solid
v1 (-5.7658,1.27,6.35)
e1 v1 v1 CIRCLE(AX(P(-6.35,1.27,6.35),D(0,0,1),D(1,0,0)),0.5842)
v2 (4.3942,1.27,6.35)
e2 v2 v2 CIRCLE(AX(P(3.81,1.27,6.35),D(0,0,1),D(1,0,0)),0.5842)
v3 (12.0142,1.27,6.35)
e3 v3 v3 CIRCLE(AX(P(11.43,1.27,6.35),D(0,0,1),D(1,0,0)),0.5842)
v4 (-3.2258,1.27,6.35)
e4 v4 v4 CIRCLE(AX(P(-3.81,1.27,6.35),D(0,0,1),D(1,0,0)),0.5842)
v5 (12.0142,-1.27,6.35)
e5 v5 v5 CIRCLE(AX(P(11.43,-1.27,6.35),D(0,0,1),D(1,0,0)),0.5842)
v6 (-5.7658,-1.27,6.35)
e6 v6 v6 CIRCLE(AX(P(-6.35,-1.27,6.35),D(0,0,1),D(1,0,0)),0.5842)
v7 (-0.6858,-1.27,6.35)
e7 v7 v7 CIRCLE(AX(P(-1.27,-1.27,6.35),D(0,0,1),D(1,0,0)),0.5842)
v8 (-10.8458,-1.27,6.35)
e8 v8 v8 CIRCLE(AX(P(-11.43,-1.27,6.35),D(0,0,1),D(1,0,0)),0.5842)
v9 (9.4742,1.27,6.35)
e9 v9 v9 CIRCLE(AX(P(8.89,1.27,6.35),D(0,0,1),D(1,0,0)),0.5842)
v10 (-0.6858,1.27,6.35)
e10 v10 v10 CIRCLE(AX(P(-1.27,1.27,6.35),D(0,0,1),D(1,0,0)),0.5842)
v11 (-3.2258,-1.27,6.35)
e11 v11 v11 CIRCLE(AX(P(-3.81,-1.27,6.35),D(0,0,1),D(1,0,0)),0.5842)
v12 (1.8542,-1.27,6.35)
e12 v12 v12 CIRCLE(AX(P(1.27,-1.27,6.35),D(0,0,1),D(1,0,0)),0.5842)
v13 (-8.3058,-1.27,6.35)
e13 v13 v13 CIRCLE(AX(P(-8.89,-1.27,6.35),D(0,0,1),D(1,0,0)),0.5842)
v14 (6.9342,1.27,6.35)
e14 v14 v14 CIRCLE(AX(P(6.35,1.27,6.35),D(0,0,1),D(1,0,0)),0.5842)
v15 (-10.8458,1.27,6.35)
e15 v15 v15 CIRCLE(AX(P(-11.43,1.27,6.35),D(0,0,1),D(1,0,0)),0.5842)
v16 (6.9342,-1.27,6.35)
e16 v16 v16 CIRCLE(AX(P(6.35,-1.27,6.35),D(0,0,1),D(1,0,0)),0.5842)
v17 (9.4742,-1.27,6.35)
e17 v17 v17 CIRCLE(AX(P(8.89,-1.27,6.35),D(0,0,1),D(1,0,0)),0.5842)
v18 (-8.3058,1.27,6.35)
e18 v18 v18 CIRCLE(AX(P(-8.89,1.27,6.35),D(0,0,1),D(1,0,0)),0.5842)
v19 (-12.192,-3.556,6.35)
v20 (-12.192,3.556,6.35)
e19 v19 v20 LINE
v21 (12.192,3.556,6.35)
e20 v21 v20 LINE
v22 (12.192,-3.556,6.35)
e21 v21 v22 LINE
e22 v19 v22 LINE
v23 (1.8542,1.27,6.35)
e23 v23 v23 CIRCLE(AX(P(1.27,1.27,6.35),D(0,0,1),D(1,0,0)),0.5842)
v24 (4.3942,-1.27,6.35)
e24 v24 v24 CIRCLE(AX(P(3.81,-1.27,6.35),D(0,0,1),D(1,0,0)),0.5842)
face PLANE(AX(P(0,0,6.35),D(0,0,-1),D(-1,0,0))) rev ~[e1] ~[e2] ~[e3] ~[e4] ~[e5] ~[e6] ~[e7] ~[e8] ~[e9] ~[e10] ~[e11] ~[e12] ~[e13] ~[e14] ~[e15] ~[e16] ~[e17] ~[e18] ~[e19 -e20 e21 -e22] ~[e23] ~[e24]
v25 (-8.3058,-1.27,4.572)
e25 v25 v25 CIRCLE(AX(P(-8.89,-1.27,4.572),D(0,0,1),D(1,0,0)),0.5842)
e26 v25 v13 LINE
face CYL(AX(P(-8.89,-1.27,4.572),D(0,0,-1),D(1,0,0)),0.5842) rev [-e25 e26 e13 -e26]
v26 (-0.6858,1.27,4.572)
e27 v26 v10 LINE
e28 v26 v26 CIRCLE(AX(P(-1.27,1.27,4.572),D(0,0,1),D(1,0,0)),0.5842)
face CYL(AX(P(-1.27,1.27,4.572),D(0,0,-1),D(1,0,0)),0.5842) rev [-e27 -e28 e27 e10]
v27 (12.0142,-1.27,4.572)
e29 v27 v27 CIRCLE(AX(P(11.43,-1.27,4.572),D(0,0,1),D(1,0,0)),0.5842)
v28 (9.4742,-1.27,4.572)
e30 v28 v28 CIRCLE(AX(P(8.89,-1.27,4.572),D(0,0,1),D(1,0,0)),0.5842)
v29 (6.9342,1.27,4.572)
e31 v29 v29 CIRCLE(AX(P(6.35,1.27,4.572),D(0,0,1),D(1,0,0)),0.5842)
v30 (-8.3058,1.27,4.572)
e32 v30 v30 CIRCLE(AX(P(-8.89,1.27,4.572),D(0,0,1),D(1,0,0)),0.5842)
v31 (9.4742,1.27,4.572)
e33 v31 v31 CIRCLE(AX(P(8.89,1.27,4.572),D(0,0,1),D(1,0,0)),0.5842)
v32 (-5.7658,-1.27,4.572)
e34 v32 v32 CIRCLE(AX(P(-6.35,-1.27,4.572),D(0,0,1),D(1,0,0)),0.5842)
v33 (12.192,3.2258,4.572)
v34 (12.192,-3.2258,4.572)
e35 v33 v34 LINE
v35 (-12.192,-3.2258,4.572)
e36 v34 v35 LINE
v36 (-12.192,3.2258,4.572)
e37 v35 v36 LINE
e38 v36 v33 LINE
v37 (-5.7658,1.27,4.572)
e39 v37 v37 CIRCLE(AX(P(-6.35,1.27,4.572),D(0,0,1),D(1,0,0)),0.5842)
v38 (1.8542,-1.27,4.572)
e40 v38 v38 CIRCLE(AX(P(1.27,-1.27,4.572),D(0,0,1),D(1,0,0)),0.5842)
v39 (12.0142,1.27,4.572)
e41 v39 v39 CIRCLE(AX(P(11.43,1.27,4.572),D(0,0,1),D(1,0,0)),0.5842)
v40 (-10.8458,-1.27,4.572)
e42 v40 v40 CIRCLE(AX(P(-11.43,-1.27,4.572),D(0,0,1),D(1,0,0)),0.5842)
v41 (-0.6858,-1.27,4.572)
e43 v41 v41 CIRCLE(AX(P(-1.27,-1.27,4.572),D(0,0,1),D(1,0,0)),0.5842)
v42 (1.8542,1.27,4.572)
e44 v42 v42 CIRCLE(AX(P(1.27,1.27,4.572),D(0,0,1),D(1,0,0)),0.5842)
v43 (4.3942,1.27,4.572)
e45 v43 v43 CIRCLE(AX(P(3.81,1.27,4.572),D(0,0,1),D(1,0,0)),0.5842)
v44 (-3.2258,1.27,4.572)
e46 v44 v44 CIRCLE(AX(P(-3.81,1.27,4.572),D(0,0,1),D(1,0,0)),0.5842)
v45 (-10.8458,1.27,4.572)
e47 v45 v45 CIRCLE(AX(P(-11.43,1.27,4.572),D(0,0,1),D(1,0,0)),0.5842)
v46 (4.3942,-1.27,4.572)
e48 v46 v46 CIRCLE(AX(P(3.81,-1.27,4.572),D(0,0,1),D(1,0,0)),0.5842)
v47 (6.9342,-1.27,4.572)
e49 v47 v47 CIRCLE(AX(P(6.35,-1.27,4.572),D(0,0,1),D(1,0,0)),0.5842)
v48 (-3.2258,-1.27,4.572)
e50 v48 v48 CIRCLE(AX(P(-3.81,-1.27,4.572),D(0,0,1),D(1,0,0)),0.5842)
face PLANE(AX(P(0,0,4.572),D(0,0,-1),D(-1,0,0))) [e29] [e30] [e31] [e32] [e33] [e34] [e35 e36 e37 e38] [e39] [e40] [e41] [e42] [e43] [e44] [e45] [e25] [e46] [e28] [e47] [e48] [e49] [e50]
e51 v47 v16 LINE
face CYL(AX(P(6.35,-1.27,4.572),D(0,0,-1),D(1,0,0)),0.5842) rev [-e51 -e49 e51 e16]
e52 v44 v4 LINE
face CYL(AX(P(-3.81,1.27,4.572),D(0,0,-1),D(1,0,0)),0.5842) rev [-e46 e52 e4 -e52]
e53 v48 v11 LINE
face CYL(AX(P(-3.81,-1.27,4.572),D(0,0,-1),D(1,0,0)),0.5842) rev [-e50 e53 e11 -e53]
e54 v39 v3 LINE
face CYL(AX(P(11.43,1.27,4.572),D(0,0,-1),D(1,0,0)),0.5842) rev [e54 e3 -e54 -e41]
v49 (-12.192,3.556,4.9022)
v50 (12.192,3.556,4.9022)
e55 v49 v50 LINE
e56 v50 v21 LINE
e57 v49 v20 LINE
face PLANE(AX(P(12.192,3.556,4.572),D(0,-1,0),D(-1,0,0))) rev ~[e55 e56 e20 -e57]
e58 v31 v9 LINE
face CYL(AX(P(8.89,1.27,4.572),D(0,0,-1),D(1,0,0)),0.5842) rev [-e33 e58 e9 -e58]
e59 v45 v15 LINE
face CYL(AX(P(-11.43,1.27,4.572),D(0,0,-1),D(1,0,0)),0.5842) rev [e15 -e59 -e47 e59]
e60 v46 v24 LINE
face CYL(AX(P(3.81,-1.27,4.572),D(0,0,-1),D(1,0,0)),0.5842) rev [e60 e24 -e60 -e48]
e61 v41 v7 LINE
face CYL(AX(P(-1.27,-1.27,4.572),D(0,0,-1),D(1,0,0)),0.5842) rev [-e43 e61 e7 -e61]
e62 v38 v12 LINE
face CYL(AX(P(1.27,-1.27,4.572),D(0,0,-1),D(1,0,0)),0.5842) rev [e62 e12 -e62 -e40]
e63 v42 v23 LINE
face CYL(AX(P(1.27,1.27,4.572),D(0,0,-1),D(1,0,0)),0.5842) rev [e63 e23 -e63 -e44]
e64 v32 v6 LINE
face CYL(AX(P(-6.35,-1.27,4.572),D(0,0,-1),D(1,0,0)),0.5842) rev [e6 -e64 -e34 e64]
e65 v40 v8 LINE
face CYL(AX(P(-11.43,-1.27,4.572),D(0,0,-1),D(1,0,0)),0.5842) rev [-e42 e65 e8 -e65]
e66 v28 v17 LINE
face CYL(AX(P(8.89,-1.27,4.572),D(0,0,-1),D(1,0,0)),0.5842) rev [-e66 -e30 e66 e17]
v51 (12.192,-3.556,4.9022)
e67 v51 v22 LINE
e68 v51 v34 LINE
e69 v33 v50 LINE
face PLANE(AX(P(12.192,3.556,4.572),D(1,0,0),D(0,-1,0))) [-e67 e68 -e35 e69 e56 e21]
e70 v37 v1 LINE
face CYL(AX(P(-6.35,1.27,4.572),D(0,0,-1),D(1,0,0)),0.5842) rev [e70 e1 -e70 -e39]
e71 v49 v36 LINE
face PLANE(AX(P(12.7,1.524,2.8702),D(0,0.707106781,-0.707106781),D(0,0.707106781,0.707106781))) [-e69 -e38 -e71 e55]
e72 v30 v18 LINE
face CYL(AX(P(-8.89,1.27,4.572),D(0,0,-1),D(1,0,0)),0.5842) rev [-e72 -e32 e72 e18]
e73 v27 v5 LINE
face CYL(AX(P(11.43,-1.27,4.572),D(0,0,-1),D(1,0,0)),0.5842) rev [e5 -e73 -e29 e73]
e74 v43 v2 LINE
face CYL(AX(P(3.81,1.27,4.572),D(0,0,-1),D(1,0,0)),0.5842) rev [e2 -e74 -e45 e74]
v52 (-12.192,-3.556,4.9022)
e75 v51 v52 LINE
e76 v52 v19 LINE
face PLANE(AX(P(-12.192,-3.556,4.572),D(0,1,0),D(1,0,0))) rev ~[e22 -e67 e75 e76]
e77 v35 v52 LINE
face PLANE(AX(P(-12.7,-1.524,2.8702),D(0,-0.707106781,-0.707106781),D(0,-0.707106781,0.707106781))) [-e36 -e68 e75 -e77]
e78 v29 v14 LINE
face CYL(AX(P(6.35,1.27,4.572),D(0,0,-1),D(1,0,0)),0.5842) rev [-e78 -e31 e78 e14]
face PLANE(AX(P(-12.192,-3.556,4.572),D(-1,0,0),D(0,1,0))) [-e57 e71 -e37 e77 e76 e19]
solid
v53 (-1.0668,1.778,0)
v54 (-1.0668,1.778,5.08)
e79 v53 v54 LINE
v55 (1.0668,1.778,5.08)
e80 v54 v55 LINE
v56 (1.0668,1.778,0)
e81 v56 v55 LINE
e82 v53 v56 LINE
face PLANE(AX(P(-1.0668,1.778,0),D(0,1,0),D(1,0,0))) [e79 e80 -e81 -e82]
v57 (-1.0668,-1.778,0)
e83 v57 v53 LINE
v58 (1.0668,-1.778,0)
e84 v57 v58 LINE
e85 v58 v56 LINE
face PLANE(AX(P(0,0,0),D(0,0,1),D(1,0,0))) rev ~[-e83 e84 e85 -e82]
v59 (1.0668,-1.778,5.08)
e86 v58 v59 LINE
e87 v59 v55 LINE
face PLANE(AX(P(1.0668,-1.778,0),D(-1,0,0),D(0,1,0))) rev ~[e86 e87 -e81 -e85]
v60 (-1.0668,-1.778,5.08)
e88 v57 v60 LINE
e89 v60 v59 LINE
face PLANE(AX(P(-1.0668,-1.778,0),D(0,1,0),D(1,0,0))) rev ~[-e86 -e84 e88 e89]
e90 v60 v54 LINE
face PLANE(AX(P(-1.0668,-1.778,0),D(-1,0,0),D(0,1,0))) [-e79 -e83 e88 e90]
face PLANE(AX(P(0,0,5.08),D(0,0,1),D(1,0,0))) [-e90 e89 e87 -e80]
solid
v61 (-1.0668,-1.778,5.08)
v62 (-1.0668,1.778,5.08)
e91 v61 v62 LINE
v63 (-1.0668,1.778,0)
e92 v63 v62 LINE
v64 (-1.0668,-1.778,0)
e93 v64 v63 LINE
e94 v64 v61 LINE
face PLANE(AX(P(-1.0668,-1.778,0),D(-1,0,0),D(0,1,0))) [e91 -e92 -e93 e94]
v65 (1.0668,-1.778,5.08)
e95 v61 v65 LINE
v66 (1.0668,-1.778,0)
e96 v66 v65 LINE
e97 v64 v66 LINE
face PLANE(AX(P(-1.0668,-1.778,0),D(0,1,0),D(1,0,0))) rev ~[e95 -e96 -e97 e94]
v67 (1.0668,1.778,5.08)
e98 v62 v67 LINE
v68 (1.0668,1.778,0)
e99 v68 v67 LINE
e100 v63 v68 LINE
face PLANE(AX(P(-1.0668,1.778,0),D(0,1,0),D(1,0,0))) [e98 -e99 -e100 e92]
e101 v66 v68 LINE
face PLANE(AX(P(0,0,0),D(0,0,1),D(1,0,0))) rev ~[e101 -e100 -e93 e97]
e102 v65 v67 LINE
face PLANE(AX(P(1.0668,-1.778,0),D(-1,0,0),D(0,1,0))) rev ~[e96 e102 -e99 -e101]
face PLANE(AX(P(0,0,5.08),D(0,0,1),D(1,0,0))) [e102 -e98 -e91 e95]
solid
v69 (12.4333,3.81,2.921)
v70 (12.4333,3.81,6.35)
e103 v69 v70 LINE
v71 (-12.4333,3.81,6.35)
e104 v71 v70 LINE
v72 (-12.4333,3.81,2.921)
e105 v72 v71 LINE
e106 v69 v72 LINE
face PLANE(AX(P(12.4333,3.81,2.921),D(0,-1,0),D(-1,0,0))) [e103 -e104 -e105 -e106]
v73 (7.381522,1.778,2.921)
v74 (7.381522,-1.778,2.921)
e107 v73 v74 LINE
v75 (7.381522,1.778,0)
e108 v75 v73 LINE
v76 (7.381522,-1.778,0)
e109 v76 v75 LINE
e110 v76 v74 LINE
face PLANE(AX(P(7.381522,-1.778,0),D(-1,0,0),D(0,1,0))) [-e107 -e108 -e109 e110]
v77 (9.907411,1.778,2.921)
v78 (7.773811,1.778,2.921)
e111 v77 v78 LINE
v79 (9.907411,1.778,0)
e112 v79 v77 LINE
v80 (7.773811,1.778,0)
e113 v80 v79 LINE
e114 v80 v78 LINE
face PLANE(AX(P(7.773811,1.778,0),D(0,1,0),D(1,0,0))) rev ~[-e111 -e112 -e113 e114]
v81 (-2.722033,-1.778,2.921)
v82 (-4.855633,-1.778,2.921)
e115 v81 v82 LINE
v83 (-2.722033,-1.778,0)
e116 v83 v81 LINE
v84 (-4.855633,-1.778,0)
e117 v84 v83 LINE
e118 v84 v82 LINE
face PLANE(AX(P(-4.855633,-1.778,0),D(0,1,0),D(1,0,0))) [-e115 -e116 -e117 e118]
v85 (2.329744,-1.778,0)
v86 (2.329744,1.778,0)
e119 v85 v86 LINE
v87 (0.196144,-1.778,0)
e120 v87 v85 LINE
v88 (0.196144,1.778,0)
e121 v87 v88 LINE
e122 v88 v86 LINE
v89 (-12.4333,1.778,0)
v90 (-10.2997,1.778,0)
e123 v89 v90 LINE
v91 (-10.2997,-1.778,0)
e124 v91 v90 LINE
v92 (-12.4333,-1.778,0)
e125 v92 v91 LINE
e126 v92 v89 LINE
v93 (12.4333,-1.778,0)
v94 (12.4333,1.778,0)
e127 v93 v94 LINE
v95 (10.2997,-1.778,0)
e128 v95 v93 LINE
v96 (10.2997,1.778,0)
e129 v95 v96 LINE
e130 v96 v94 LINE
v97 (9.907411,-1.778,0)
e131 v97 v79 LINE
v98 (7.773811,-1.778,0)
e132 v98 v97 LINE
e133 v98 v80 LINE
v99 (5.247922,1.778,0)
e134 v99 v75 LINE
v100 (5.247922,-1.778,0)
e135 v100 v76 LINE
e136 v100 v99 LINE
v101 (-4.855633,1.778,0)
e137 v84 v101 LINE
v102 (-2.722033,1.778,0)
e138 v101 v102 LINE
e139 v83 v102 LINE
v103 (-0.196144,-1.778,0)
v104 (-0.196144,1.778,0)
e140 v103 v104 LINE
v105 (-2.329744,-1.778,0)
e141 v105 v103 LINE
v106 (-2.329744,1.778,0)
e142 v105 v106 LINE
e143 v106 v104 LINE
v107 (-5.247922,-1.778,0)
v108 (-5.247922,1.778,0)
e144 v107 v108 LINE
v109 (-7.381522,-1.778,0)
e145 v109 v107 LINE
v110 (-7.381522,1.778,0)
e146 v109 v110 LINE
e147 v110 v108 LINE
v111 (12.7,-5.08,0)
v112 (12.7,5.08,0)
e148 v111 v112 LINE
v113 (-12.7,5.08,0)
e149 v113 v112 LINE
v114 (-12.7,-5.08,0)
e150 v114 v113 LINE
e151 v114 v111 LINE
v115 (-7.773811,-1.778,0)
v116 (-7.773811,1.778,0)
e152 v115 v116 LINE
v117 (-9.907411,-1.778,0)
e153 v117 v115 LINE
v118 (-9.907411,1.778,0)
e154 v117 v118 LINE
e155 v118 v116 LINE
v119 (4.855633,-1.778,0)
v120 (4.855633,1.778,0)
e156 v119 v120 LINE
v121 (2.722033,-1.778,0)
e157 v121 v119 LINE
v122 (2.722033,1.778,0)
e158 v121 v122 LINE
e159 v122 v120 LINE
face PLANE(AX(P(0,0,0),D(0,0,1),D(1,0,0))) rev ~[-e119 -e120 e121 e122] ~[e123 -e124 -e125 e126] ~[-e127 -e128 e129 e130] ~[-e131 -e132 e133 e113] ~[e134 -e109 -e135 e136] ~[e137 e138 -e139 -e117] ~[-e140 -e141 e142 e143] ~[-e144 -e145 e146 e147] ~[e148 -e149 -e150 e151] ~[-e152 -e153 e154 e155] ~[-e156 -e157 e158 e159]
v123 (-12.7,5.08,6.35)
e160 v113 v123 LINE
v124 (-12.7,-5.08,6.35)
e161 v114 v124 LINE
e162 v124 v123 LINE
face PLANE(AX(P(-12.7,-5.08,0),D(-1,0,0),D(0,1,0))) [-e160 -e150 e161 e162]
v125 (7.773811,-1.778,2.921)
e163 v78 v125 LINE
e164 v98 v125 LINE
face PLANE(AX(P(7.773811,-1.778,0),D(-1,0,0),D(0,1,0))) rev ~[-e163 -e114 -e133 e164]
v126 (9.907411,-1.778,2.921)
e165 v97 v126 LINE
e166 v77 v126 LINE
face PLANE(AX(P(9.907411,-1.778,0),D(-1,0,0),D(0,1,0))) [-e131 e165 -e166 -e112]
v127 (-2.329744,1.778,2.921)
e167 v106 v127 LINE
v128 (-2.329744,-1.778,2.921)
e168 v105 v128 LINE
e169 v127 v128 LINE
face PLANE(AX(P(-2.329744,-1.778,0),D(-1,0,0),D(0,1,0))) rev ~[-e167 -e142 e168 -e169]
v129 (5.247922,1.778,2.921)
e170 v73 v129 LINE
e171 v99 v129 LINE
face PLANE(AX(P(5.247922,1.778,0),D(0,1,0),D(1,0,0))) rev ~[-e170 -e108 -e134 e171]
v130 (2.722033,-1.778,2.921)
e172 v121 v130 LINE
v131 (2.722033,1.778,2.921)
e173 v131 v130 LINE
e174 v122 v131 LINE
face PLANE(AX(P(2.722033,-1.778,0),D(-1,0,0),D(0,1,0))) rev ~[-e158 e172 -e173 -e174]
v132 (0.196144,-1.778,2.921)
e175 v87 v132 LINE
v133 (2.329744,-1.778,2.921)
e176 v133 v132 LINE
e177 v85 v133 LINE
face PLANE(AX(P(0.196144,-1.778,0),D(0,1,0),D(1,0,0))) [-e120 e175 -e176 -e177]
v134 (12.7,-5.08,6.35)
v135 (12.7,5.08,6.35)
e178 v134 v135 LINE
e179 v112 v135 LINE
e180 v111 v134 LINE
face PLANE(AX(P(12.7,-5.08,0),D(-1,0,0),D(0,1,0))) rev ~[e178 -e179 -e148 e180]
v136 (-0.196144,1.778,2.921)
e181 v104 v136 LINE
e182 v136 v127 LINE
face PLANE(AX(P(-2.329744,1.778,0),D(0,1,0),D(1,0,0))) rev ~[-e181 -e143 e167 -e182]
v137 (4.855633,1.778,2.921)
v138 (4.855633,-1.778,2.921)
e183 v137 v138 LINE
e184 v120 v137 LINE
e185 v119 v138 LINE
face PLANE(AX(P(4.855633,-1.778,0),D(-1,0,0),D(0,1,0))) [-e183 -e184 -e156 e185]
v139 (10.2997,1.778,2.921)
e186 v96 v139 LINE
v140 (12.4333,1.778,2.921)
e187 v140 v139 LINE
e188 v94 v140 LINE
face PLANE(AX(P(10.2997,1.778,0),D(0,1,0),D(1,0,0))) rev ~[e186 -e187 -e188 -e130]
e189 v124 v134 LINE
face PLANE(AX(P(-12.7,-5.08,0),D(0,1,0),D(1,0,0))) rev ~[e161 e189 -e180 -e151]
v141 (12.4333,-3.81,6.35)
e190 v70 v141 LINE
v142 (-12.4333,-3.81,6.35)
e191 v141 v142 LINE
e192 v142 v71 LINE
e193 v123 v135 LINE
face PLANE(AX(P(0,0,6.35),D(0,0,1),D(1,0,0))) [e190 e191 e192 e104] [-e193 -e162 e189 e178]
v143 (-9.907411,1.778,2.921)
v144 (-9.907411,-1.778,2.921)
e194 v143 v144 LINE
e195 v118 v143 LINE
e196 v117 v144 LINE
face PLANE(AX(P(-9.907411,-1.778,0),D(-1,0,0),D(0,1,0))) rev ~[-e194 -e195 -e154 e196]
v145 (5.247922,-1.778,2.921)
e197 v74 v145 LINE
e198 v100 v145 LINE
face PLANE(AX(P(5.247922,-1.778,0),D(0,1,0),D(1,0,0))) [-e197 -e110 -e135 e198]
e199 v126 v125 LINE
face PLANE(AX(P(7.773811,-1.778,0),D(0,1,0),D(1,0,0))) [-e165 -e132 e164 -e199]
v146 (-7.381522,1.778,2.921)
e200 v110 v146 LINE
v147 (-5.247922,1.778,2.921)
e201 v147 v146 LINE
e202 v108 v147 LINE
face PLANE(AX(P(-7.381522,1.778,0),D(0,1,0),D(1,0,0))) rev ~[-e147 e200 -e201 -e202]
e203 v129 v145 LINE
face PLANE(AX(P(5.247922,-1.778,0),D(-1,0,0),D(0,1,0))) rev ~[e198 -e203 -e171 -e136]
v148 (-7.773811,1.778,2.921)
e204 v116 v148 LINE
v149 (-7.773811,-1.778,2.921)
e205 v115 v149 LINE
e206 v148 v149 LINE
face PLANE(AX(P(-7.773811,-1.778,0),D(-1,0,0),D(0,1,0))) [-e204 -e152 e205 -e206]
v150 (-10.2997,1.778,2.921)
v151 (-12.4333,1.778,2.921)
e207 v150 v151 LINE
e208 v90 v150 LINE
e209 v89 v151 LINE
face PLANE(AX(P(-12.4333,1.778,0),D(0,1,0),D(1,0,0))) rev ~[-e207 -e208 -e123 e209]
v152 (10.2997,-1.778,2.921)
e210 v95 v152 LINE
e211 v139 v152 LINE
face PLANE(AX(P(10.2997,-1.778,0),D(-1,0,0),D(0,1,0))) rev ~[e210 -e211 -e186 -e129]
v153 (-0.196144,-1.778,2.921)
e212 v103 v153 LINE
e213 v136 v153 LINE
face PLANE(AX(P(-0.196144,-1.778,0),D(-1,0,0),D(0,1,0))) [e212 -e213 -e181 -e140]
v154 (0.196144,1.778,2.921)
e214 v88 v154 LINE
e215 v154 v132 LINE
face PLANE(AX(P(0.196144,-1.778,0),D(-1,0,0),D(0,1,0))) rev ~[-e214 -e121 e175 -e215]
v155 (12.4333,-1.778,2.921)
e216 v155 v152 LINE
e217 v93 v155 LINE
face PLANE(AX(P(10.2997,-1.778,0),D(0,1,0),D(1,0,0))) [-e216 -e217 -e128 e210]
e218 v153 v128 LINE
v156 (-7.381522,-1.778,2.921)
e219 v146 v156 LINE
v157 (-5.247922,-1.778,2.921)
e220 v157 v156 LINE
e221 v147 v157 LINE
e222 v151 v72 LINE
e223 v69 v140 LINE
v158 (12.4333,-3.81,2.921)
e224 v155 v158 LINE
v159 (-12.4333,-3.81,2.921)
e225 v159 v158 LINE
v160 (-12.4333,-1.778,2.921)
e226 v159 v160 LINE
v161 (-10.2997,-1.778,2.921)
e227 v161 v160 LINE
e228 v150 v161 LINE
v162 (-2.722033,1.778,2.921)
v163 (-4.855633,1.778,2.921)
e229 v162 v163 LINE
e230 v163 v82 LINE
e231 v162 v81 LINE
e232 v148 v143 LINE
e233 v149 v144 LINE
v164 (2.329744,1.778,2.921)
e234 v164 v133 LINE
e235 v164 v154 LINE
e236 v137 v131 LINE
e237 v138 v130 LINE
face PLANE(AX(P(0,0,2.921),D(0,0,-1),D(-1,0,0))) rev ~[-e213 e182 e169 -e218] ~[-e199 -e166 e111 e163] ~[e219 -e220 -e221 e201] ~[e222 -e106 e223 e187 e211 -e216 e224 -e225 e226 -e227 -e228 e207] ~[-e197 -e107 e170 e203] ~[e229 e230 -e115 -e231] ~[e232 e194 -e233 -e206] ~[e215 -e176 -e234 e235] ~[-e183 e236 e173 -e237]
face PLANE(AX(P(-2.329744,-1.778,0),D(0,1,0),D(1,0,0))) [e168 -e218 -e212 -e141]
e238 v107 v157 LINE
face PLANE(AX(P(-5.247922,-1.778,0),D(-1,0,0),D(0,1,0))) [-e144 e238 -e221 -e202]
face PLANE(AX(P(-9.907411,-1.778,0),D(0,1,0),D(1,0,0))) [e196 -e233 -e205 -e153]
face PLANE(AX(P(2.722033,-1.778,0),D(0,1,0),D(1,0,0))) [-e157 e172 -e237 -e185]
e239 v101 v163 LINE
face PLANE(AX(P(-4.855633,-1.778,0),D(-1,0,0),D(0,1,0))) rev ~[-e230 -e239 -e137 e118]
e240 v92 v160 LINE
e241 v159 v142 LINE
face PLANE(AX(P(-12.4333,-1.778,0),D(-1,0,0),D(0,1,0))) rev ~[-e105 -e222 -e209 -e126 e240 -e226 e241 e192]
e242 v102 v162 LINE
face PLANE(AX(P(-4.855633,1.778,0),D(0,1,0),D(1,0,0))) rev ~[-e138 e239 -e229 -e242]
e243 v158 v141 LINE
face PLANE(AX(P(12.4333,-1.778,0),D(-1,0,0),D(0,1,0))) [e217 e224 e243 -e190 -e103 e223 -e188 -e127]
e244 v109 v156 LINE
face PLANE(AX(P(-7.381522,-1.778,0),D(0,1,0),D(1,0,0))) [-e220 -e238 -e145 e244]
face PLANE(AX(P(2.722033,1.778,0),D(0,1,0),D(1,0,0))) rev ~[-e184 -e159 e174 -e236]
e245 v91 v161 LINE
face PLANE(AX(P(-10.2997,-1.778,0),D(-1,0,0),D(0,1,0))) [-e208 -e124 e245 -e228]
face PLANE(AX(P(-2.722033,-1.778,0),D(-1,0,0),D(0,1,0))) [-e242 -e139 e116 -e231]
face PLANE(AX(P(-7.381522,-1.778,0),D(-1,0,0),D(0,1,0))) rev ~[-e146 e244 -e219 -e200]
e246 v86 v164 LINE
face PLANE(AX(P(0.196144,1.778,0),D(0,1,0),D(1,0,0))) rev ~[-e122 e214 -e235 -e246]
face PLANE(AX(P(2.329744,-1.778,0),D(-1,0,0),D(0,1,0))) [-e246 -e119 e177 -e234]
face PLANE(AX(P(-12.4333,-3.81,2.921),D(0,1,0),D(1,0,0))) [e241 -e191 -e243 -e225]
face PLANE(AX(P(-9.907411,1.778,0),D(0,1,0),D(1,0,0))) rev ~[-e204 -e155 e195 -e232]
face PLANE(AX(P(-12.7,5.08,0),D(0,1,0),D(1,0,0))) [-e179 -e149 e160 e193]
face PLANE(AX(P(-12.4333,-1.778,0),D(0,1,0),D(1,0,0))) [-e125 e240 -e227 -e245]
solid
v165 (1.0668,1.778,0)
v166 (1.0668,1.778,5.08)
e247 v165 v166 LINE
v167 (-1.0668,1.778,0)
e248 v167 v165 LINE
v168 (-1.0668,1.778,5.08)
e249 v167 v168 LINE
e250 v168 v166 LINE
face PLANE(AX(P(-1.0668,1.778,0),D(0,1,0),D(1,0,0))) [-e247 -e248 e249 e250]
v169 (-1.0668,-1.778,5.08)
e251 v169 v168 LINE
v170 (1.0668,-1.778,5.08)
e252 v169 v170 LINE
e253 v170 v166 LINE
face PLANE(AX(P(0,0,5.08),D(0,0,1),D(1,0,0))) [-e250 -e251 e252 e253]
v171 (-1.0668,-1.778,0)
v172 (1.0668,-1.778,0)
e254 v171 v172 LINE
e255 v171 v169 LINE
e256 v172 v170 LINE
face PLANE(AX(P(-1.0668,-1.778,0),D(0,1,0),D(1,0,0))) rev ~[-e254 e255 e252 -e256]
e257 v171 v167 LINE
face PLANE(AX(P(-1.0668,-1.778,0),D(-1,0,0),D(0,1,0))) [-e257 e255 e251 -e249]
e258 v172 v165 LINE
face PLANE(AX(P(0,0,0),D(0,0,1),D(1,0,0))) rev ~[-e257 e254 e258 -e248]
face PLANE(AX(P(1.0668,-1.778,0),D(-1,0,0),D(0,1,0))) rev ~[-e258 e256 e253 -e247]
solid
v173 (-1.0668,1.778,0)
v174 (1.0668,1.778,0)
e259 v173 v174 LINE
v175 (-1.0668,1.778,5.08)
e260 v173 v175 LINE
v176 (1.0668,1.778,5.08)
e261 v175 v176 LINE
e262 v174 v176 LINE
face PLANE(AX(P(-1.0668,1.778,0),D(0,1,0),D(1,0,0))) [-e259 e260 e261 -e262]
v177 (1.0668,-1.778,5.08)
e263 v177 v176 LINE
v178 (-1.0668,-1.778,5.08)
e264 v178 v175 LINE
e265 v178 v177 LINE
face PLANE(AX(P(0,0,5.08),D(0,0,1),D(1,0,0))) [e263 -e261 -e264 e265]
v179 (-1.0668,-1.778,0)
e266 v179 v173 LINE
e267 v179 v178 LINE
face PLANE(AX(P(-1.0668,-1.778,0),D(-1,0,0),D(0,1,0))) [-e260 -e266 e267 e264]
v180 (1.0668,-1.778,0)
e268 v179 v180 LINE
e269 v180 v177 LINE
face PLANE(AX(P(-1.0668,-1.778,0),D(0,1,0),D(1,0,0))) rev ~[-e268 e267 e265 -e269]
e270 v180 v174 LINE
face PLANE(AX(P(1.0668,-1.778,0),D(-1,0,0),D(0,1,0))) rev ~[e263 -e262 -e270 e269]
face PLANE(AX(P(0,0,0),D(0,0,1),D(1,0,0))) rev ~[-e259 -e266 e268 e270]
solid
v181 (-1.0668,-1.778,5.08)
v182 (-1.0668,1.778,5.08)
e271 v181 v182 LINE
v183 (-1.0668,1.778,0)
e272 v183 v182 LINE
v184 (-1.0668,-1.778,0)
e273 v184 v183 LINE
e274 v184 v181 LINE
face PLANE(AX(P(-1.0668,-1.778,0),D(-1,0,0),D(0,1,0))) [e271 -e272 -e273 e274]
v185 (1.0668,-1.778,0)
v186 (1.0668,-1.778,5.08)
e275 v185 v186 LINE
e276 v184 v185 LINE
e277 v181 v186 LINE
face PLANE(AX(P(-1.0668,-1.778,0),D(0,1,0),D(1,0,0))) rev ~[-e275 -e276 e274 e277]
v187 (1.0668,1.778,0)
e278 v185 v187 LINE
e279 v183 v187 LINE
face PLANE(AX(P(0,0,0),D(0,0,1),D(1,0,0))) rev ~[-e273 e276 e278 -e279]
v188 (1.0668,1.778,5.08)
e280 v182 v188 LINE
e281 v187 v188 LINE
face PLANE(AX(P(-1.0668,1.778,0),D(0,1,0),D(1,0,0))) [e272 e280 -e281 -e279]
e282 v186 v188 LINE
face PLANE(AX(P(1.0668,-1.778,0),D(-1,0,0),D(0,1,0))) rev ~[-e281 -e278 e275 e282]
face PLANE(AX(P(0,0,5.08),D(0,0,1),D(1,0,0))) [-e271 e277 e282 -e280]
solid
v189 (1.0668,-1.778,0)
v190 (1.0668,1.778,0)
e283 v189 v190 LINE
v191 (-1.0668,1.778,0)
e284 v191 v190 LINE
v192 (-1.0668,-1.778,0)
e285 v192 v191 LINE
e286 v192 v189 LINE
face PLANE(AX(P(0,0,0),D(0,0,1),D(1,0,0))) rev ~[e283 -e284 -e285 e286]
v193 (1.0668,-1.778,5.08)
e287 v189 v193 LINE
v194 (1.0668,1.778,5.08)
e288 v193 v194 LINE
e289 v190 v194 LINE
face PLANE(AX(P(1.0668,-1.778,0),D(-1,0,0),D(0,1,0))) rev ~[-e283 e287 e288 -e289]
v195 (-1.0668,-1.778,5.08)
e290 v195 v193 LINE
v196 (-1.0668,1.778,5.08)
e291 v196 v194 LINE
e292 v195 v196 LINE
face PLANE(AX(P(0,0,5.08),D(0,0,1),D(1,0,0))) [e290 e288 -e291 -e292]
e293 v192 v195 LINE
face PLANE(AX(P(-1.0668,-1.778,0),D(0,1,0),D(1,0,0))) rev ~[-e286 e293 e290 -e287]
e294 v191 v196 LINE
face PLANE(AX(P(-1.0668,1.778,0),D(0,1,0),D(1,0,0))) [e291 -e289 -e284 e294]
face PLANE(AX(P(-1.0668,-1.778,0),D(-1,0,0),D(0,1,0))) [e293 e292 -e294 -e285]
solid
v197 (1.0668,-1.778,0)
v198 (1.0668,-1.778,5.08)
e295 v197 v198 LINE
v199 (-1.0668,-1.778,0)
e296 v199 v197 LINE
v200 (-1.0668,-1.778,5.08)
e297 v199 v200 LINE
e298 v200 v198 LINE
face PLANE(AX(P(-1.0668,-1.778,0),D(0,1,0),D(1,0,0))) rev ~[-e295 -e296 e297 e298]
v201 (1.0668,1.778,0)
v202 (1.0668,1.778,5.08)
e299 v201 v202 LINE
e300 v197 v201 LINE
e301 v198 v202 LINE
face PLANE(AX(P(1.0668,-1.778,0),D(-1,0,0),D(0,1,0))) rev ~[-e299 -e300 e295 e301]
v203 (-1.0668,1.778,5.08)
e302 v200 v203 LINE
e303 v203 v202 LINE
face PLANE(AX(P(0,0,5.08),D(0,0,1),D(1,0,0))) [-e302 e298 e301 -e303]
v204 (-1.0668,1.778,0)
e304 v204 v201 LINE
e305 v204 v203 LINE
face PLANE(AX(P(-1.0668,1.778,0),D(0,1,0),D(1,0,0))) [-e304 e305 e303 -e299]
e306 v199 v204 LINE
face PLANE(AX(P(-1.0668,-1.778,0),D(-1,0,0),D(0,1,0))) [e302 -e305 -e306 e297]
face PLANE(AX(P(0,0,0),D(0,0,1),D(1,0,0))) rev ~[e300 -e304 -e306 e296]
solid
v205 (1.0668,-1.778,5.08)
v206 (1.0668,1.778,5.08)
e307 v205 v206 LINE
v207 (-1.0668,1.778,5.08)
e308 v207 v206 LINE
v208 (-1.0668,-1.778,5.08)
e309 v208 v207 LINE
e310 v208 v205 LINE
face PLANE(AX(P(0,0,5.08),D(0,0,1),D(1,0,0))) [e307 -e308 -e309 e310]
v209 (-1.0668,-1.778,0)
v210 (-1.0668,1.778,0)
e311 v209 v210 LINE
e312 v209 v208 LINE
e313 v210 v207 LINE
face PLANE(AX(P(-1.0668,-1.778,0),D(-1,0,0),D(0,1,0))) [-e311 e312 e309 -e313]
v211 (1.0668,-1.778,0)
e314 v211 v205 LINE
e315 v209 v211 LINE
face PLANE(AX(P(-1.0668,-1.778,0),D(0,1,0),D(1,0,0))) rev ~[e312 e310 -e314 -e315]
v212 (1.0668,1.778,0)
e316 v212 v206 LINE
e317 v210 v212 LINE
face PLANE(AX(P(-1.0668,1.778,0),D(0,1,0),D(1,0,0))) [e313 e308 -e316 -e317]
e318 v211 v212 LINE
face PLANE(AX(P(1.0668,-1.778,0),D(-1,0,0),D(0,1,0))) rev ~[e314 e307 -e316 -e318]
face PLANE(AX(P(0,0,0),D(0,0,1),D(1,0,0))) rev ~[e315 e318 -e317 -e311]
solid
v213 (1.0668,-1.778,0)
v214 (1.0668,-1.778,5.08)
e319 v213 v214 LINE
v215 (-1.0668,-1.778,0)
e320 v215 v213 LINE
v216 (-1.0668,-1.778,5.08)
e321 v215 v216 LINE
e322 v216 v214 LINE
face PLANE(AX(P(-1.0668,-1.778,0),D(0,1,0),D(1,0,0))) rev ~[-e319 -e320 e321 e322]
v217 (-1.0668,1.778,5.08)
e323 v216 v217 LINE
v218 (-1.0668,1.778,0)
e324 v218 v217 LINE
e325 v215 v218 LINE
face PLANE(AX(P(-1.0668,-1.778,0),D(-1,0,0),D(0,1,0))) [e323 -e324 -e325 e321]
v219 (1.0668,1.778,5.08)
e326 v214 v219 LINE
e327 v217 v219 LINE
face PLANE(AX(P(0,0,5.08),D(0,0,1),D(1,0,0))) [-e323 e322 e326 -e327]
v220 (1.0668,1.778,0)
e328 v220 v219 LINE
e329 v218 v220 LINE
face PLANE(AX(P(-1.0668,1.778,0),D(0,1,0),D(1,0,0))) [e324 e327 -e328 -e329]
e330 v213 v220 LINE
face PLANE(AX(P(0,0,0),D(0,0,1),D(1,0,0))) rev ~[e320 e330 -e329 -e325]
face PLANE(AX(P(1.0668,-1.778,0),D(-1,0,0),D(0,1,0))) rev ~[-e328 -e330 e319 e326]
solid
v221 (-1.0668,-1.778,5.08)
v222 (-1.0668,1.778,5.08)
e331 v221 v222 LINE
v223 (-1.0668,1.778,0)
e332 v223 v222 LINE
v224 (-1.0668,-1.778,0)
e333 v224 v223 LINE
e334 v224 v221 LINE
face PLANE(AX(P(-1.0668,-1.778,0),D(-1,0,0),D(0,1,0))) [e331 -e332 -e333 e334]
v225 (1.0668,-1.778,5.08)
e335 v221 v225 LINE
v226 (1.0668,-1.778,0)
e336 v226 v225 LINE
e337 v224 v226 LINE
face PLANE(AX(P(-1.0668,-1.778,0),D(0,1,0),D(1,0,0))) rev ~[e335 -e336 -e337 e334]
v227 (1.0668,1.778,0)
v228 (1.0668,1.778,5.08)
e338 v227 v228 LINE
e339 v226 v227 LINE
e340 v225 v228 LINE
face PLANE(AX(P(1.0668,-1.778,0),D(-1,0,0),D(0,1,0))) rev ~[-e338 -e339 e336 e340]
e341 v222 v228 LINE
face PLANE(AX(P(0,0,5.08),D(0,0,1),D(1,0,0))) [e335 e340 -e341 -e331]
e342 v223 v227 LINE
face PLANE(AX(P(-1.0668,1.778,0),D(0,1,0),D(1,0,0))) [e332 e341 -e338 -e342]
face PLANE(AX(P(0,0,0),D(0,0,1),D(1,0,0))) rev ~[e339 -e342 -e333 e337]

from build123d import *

# Parameters (mm, degrees)
PAD001_DEPTH = 5.08
SKETCH_W     = 25.4
SKETCH_H     = 10.16
SKETCH_W_2   = 2.1336
SKETCH_H_2   = 3.556
PAD_DEPTH    = 6.35
PAD004_DEPTH = 25.4
PAD003_DEPTH = 25.4
SKETCH002_R  = 0.5842
PAD002_DEPTH = 1.778
SKETCH008_W  = 2.1336
SKETCH008_H  = 3.556
PAD008_DEPTH = 5.08
SKETCH007_W  = 2.1336
SKETCH007_H  = 3.556
PAD007_DEPTH = 5.08
SKETCH006_W  = 2.1336
SKETCH006_H  = 3.556
PAD006_DEPTH = 5.08
SKETCH009_W  = 2.1336
SKETCH009_H  = 3.556
PAD009_DEPTH = 5.08
SKETCH011_W  = 2.1336
SKETCH011_H  = 3.556
PAD011_DEPTH = 5.08
SKETCH010_W  = 2.1336
SKETCH010_H  = 3.556
PAD010_DEPTH = 5.08
SKETCH013_W  = 2.1336
SKETCH013_H  = 3.556
PAD013_DEPTH = 5.08
SKETCH012_W  = 2.1336
SKETCH012_H  = 3.556
PAD012_DEPTH = 5.08
SKETCH014_W  = 2.1336
SKETCH014_H  = 3.556
PAD014_DEPTH = 5.08
SKETCH005_W  = 2.1336
SKETCH005_H  = 3.556
PAD005_DEPTH = 5.08


with BuildPart() as body001:
    # Sketch001 → Pad001 (new body)
    with BuildSketch(Plane.XY.offset(2.921)):
        Polygon((-12.4333, 3.81), (-11.43, 3.81), (-8.89, 3.81), (-6.35, 3.81), (-3.81, 3.81), (-1.27, 3.81), (1.27, 3.81), (3.81, 3.81), (6.35, 3.81), (8.89, 3.81), (11.43, 3.81), (12.4333, 3.81), (12.4333, -3.81), (11.43, -3.81), (8.89, -3.81), (6.35, -3.81), (3.81, -3.81), (1.27, -3.81), (-1.27, -3.81), (-3.81, -3.81), (-6.35, -3.81), (-8.89, -3.81), (-11.43, -3.81), (-12.4333, -3.81), align=None)
    extrude(amount=PAD001_DEPTH)


with BuildPart() as body:
    # Sketch → Pad (new body)
    with BuildSketch(Plane.XY):
        Rectangle(SKETCH_W, SKETCH_H)
        with Locations((-11.3665, 0)):
            Rectangle(SKETCH_W_2, SKETCH_H_2, mode=Mode.SUBTRACT)
        with Locations((-8.840611, 0)):
            Rectangle(SKETCH_W_2, SKETCH_H_2, mode=Mode.SUBTRACT)
        with Locations((-6.314722, 0)):
            Rectangle(SKETCH_W_2, SKETCH_H_2, mode=Mode.SUBTRACT)
        with Locations((-3.788833, 0)):
            Rectangle(SKETCH_W_2, SKETCH_H_2, mode=Mode.SUBTRACT)
        with Locations((-1.262944, 0)):
            Rectangle(SKETCH_W_2, SKETCH_H_2, mode=Mode.SUBTRACT)
        with Locations((1.262944, 0)):
            Rectangle(SKETCH_W_2, SKETCH_H_2, mode=Mode.SUBTRACT)
        with Locations((3.788833, 0)):
            Rectangle(SKETCH_W_2, SKETCH_H_2, mode=Mode.SUBTRACT)
        with Locations((6.314722, 0)):
            Rectangle(SKETCH_W_2, SKETCH_H_2, mode=Mode.SUBTRACT)
        with Locations((8.840611, 0)):
            Rectangle(SKETCH_W_2, SKETCH_H_2, mode=Mode.SUBTRACT)
        with Locations((11.3665, 0)):
            Rectangle(SKETCH_W_2, SKETCH_H_2, mode=Mode.SUBTRACT)
    extrude(amount=PAD_DEPTH)

    # Cut: cut Body001
    add(body001.part, mode=Mode.SUBTRACT)


with BuildPart() as chamf:
    # Sketch004 → Pad004 (new body)
    with BuildSketch(Plane(origin=(12.7, 0, 0), x_dir=(0, -1, 0), z_dir=(-1, 0, 0))):
        Polygon((-3.683, 5.0292), (-3.683, 2.8702), (-1.524, 2.8702), align=None)
    extrude(amount=PAD004_DEPTH)


with BuildPart() as body003:
    # Sketch003 → Pad003 (new body)
    with BuildSketch(Plane.YZ.offset(-12.7)):
        Polygon((-3.683, 5.0292), (-3.683, 2.8702), (-1.524, 2.8702), align=None)
    extrude(amount=PAD003_DEPTH)


with BuildPart() as plug:
    # Sketch002 → Pad002 (new body)
    with BuildSketch(Plane.XY.offset(4.572)):
        Polygon((-12.192, 3.556), (-11.43, 3.556), (-8.89, 3.556), (-6.35, 3.556), (-3.81, 3.556), (-1.27, 3.556), (1.27, 3.556), (3.81, 3.556), (6.35, 3.556), (8.89, 3.556), (11.43, 3.556), (12.192, 3.556), (12.192, -3.556), (11.43, -3.556), (8.89, -3.556), (6.35, -3.556), (3.81, -3.556), (1.27, -3.556), (-1.27, -3.556), (-3.81, -3.556), (-6.35, -3.556), (-8.89, -3.556), (-11.43, -3.556), (-12.192, -3.556), align=None)
        with Locations((-11.43, 1.27)):
            Circle(SKETCH002_R, mode=Mode.SUBTRACT)
        with Locations((-11.43, -1.27)):
            Circle(SKETCH002_R, mode=Mode.SUBTRACT)
        with Locations((-8.89, -1.27)):
            Circle(SKETCH002_R, mode=Mode.SUBTRACT)
        with Locations((-8.89, 1.27)):
            Circle(SKETCH002_R, mode=Mode.SUBTRACT)
        with Locations((-6.35, 1.27)):
            Circle(SKETCH002_R, mode=Mode.SUBTRACT)
        with Locations((-6.35, -1.27)):
            Circle(SKETCH002_R, mode=Mode.SUBTRACT)
        with Locations((-3.81, 1.27)):
            Circle(SKETCH002_R, mode=Mode.SUBTRACT)
        with Locations((-3.81, -1.27)):
            Circle(SKETCH002_R, mode=Mode.SUBTRACT)
        with Locations((-1.27, 1.27)):
            Circle(SKETCH002_R, mode=Mode.SUBTRACT)
        with Locations((-1.27, -1.27)):
            Circle(SKETCH002_R, mode=Mode.SUBTRACT)
        with Locations((1.27, 1.27)):
            Circle(SKETCH002_R, mode=Mode.SUBTRACT)
        with Locations((1.27, -1.27)):
            Circle(SKETCH002_R, mode=Mode.SUBTRACT)
        with Locations((3.81, 1.27)):
            Circle(SKETCH002_R, mode=Mode.SUBTRACT)
        with Locations((3.81, -1.27)):
            Circle(SKETCH002_R, mode=Mode.SUBTRACT)
        with Locations((6.35, 1.27)):
            Circle(SKETCH002_R, mode=Mode.SUBTRACT)
        with Locations((6.35, -1.27)):
            Circle(SKETCH002_R, mode=Mode.SUBTRACT)
        with Locations((8.89, 1.27)):
            Circle(SKETCH002_R, mode=Mode.SUBTRACT)
        with Locations((8.89, -1.27)):
            Circle(SKETCH002_R, mode=Mode.SUBTRACT)
        with Locations((11.43, 1.27)):
            Circle(SKETCH002_R, mode=Mode.SUBTRACT)
        with Locations((11.43, -1.27)):
            Circle(SKETCH002_R, mode=Mode.SUBTRACT)
    extrude(amount=PAD002_DEPTH)

    # Cut001: cut Body003
    add(body003.part, mode=Mode.SUBTRACT)

    # Cut002: cut chamf
    add(chamf.part, mode=Mode.SUBTRACT)


with BuildPart() as led003:
    # Sketch008 → Pad008 (new body)
    with BuildSketch(Plane.XY):
        Rectangle(SKETCH008_W, SKETCH008_H)
    extrude(amount=PAD008_DEPTH)


with BuildPart() as led003_1:
    # Body008 placement: moved
    add(led003.part.moved(Location((-3.81, 0, 0))))


with BuildPart() as led002:
    # Sketch007 → Pad007 (new body)
    with BuildSketch(Plane.XY):
        Rectangle(SKETCH007_W, SKETCH007_H)
    extrude(amount=PAD007_DEPTH)


with BuildPart() as led002_1:
    # Body007 placement: moved
    add(led002.part.moved(Location((3.81, 0, 0))))


with BuildPart() as led001:
    # Sketch006 → Pad006 (new body)
    with BuildSketch(Plane.XY):
        Rectangle(SKETCH006_W, SKETCH006_H)
    extrude(amount=PAD006_DEPTH)


with BuildPart() as led001_1:
    # Body006 placement: moved
    add(led001.part.moved(Location((-1.27, 0, 0))))


with BuildPart() as led004:
    # Sketch009 → Pad009 (new body)
    with BuildSketch(Plane.XY):
        Rectangle(SKETCH009_W, SKETCH009_H)
    extrude(amount=PAD009_DEPTH)


with BuildPart() as led004_1:
    # Body009 placement: moved
    add(led004.part.moved(Location((6.35, 0, 0))))


with BuildPart() as led006:
    # Sketch011 → Pad011 (new body)
    with BuildSketch(Plane.XY):
        Rectangle(SKETCH011_W, SKETCH011_H)
    extrude(amount=PAD011_DEPTH)


with BuildPart() as led006_1:
    # Body011 placement: moved
    add(led006.part.moved(Location((-8.89, 0, 0))))


with BuildPart() as led005:
    # Sketch010 → Pad010 (new body)
    with BuildSketch(Plane.XY):
        Rectangle(SKETCH010_W, SKETCH010_H)
    extrude(amount=PAD010_DEPTH)


with BuildPart() as led005_1:
    # Body010 placement: moved
    add(led005.part.moved(Location((-6.35, 0, 0))))


with BuildPart() as led008:
    # Sketch013 → Pad013 (new body)
    with BuildSketch(Plane.XY):
        Rectangle(SKETCH013_W, SKETCH013_H)
    extrude(amount=PAD013_DEPTH)


with BuildPart() as led008_1:
    # Body013 placement: moved
    add(led008.part.moved(Location((-11.43, 0, 0))))


with BuildPart() as led007:
    # Sketch012 → Pad012 (new body)
    with BuildSketch(Plane.XY):
        Rectangle(SKETCH012_W, SKETCH012_H)
    extrude(amount=PAD012_DEPTH)


with BuildPart() as led007_1:
    # Body012 placement: moved
    add(led007.part.moved(Location((8.89, 0, 0))))


with BuildPart() as led009:
    # Sketch014 → Pad014 (new body)
    with BuildSketch(Plane.XY):
        Rectangle(SKETCH014_W, SKETCH014_H)
    extrude(amount=PAD014_DEPTH)


with BuildPart() as led009_1:
    # Body014 placement: moved
    add(led009.part.moved(Location((11.43, 0, 0))))


with BuildPart() as leds:
    # Sketch005 → Pad005 (new body)
    with BuildSketch(Plane.XY):
        Rectangle(SKETCH005_W, SKETCH005_H)
    extrude(amount=PAD005_DEPTH)


with BuildPart() as leds_1:
    # Body005 placement: moved
    add(leds.part.moved(Location((1.27, 0, 0))))

    # Fusion: union LED003, LED002, LED001, LED004, LED006, LED005, LED008, LED007, LED009
    add(led003_1.part)
    add(led002_1.part)
    add(led001_1.part)
    add(led004_1.part)
    add(led006_1.part)
    add(led005_1.part)
    add(led008_1.part)
    add(led007_1.part)
    add(led009_1.part)


solid = Compound([body.part, plug.part, leds_1.part])
